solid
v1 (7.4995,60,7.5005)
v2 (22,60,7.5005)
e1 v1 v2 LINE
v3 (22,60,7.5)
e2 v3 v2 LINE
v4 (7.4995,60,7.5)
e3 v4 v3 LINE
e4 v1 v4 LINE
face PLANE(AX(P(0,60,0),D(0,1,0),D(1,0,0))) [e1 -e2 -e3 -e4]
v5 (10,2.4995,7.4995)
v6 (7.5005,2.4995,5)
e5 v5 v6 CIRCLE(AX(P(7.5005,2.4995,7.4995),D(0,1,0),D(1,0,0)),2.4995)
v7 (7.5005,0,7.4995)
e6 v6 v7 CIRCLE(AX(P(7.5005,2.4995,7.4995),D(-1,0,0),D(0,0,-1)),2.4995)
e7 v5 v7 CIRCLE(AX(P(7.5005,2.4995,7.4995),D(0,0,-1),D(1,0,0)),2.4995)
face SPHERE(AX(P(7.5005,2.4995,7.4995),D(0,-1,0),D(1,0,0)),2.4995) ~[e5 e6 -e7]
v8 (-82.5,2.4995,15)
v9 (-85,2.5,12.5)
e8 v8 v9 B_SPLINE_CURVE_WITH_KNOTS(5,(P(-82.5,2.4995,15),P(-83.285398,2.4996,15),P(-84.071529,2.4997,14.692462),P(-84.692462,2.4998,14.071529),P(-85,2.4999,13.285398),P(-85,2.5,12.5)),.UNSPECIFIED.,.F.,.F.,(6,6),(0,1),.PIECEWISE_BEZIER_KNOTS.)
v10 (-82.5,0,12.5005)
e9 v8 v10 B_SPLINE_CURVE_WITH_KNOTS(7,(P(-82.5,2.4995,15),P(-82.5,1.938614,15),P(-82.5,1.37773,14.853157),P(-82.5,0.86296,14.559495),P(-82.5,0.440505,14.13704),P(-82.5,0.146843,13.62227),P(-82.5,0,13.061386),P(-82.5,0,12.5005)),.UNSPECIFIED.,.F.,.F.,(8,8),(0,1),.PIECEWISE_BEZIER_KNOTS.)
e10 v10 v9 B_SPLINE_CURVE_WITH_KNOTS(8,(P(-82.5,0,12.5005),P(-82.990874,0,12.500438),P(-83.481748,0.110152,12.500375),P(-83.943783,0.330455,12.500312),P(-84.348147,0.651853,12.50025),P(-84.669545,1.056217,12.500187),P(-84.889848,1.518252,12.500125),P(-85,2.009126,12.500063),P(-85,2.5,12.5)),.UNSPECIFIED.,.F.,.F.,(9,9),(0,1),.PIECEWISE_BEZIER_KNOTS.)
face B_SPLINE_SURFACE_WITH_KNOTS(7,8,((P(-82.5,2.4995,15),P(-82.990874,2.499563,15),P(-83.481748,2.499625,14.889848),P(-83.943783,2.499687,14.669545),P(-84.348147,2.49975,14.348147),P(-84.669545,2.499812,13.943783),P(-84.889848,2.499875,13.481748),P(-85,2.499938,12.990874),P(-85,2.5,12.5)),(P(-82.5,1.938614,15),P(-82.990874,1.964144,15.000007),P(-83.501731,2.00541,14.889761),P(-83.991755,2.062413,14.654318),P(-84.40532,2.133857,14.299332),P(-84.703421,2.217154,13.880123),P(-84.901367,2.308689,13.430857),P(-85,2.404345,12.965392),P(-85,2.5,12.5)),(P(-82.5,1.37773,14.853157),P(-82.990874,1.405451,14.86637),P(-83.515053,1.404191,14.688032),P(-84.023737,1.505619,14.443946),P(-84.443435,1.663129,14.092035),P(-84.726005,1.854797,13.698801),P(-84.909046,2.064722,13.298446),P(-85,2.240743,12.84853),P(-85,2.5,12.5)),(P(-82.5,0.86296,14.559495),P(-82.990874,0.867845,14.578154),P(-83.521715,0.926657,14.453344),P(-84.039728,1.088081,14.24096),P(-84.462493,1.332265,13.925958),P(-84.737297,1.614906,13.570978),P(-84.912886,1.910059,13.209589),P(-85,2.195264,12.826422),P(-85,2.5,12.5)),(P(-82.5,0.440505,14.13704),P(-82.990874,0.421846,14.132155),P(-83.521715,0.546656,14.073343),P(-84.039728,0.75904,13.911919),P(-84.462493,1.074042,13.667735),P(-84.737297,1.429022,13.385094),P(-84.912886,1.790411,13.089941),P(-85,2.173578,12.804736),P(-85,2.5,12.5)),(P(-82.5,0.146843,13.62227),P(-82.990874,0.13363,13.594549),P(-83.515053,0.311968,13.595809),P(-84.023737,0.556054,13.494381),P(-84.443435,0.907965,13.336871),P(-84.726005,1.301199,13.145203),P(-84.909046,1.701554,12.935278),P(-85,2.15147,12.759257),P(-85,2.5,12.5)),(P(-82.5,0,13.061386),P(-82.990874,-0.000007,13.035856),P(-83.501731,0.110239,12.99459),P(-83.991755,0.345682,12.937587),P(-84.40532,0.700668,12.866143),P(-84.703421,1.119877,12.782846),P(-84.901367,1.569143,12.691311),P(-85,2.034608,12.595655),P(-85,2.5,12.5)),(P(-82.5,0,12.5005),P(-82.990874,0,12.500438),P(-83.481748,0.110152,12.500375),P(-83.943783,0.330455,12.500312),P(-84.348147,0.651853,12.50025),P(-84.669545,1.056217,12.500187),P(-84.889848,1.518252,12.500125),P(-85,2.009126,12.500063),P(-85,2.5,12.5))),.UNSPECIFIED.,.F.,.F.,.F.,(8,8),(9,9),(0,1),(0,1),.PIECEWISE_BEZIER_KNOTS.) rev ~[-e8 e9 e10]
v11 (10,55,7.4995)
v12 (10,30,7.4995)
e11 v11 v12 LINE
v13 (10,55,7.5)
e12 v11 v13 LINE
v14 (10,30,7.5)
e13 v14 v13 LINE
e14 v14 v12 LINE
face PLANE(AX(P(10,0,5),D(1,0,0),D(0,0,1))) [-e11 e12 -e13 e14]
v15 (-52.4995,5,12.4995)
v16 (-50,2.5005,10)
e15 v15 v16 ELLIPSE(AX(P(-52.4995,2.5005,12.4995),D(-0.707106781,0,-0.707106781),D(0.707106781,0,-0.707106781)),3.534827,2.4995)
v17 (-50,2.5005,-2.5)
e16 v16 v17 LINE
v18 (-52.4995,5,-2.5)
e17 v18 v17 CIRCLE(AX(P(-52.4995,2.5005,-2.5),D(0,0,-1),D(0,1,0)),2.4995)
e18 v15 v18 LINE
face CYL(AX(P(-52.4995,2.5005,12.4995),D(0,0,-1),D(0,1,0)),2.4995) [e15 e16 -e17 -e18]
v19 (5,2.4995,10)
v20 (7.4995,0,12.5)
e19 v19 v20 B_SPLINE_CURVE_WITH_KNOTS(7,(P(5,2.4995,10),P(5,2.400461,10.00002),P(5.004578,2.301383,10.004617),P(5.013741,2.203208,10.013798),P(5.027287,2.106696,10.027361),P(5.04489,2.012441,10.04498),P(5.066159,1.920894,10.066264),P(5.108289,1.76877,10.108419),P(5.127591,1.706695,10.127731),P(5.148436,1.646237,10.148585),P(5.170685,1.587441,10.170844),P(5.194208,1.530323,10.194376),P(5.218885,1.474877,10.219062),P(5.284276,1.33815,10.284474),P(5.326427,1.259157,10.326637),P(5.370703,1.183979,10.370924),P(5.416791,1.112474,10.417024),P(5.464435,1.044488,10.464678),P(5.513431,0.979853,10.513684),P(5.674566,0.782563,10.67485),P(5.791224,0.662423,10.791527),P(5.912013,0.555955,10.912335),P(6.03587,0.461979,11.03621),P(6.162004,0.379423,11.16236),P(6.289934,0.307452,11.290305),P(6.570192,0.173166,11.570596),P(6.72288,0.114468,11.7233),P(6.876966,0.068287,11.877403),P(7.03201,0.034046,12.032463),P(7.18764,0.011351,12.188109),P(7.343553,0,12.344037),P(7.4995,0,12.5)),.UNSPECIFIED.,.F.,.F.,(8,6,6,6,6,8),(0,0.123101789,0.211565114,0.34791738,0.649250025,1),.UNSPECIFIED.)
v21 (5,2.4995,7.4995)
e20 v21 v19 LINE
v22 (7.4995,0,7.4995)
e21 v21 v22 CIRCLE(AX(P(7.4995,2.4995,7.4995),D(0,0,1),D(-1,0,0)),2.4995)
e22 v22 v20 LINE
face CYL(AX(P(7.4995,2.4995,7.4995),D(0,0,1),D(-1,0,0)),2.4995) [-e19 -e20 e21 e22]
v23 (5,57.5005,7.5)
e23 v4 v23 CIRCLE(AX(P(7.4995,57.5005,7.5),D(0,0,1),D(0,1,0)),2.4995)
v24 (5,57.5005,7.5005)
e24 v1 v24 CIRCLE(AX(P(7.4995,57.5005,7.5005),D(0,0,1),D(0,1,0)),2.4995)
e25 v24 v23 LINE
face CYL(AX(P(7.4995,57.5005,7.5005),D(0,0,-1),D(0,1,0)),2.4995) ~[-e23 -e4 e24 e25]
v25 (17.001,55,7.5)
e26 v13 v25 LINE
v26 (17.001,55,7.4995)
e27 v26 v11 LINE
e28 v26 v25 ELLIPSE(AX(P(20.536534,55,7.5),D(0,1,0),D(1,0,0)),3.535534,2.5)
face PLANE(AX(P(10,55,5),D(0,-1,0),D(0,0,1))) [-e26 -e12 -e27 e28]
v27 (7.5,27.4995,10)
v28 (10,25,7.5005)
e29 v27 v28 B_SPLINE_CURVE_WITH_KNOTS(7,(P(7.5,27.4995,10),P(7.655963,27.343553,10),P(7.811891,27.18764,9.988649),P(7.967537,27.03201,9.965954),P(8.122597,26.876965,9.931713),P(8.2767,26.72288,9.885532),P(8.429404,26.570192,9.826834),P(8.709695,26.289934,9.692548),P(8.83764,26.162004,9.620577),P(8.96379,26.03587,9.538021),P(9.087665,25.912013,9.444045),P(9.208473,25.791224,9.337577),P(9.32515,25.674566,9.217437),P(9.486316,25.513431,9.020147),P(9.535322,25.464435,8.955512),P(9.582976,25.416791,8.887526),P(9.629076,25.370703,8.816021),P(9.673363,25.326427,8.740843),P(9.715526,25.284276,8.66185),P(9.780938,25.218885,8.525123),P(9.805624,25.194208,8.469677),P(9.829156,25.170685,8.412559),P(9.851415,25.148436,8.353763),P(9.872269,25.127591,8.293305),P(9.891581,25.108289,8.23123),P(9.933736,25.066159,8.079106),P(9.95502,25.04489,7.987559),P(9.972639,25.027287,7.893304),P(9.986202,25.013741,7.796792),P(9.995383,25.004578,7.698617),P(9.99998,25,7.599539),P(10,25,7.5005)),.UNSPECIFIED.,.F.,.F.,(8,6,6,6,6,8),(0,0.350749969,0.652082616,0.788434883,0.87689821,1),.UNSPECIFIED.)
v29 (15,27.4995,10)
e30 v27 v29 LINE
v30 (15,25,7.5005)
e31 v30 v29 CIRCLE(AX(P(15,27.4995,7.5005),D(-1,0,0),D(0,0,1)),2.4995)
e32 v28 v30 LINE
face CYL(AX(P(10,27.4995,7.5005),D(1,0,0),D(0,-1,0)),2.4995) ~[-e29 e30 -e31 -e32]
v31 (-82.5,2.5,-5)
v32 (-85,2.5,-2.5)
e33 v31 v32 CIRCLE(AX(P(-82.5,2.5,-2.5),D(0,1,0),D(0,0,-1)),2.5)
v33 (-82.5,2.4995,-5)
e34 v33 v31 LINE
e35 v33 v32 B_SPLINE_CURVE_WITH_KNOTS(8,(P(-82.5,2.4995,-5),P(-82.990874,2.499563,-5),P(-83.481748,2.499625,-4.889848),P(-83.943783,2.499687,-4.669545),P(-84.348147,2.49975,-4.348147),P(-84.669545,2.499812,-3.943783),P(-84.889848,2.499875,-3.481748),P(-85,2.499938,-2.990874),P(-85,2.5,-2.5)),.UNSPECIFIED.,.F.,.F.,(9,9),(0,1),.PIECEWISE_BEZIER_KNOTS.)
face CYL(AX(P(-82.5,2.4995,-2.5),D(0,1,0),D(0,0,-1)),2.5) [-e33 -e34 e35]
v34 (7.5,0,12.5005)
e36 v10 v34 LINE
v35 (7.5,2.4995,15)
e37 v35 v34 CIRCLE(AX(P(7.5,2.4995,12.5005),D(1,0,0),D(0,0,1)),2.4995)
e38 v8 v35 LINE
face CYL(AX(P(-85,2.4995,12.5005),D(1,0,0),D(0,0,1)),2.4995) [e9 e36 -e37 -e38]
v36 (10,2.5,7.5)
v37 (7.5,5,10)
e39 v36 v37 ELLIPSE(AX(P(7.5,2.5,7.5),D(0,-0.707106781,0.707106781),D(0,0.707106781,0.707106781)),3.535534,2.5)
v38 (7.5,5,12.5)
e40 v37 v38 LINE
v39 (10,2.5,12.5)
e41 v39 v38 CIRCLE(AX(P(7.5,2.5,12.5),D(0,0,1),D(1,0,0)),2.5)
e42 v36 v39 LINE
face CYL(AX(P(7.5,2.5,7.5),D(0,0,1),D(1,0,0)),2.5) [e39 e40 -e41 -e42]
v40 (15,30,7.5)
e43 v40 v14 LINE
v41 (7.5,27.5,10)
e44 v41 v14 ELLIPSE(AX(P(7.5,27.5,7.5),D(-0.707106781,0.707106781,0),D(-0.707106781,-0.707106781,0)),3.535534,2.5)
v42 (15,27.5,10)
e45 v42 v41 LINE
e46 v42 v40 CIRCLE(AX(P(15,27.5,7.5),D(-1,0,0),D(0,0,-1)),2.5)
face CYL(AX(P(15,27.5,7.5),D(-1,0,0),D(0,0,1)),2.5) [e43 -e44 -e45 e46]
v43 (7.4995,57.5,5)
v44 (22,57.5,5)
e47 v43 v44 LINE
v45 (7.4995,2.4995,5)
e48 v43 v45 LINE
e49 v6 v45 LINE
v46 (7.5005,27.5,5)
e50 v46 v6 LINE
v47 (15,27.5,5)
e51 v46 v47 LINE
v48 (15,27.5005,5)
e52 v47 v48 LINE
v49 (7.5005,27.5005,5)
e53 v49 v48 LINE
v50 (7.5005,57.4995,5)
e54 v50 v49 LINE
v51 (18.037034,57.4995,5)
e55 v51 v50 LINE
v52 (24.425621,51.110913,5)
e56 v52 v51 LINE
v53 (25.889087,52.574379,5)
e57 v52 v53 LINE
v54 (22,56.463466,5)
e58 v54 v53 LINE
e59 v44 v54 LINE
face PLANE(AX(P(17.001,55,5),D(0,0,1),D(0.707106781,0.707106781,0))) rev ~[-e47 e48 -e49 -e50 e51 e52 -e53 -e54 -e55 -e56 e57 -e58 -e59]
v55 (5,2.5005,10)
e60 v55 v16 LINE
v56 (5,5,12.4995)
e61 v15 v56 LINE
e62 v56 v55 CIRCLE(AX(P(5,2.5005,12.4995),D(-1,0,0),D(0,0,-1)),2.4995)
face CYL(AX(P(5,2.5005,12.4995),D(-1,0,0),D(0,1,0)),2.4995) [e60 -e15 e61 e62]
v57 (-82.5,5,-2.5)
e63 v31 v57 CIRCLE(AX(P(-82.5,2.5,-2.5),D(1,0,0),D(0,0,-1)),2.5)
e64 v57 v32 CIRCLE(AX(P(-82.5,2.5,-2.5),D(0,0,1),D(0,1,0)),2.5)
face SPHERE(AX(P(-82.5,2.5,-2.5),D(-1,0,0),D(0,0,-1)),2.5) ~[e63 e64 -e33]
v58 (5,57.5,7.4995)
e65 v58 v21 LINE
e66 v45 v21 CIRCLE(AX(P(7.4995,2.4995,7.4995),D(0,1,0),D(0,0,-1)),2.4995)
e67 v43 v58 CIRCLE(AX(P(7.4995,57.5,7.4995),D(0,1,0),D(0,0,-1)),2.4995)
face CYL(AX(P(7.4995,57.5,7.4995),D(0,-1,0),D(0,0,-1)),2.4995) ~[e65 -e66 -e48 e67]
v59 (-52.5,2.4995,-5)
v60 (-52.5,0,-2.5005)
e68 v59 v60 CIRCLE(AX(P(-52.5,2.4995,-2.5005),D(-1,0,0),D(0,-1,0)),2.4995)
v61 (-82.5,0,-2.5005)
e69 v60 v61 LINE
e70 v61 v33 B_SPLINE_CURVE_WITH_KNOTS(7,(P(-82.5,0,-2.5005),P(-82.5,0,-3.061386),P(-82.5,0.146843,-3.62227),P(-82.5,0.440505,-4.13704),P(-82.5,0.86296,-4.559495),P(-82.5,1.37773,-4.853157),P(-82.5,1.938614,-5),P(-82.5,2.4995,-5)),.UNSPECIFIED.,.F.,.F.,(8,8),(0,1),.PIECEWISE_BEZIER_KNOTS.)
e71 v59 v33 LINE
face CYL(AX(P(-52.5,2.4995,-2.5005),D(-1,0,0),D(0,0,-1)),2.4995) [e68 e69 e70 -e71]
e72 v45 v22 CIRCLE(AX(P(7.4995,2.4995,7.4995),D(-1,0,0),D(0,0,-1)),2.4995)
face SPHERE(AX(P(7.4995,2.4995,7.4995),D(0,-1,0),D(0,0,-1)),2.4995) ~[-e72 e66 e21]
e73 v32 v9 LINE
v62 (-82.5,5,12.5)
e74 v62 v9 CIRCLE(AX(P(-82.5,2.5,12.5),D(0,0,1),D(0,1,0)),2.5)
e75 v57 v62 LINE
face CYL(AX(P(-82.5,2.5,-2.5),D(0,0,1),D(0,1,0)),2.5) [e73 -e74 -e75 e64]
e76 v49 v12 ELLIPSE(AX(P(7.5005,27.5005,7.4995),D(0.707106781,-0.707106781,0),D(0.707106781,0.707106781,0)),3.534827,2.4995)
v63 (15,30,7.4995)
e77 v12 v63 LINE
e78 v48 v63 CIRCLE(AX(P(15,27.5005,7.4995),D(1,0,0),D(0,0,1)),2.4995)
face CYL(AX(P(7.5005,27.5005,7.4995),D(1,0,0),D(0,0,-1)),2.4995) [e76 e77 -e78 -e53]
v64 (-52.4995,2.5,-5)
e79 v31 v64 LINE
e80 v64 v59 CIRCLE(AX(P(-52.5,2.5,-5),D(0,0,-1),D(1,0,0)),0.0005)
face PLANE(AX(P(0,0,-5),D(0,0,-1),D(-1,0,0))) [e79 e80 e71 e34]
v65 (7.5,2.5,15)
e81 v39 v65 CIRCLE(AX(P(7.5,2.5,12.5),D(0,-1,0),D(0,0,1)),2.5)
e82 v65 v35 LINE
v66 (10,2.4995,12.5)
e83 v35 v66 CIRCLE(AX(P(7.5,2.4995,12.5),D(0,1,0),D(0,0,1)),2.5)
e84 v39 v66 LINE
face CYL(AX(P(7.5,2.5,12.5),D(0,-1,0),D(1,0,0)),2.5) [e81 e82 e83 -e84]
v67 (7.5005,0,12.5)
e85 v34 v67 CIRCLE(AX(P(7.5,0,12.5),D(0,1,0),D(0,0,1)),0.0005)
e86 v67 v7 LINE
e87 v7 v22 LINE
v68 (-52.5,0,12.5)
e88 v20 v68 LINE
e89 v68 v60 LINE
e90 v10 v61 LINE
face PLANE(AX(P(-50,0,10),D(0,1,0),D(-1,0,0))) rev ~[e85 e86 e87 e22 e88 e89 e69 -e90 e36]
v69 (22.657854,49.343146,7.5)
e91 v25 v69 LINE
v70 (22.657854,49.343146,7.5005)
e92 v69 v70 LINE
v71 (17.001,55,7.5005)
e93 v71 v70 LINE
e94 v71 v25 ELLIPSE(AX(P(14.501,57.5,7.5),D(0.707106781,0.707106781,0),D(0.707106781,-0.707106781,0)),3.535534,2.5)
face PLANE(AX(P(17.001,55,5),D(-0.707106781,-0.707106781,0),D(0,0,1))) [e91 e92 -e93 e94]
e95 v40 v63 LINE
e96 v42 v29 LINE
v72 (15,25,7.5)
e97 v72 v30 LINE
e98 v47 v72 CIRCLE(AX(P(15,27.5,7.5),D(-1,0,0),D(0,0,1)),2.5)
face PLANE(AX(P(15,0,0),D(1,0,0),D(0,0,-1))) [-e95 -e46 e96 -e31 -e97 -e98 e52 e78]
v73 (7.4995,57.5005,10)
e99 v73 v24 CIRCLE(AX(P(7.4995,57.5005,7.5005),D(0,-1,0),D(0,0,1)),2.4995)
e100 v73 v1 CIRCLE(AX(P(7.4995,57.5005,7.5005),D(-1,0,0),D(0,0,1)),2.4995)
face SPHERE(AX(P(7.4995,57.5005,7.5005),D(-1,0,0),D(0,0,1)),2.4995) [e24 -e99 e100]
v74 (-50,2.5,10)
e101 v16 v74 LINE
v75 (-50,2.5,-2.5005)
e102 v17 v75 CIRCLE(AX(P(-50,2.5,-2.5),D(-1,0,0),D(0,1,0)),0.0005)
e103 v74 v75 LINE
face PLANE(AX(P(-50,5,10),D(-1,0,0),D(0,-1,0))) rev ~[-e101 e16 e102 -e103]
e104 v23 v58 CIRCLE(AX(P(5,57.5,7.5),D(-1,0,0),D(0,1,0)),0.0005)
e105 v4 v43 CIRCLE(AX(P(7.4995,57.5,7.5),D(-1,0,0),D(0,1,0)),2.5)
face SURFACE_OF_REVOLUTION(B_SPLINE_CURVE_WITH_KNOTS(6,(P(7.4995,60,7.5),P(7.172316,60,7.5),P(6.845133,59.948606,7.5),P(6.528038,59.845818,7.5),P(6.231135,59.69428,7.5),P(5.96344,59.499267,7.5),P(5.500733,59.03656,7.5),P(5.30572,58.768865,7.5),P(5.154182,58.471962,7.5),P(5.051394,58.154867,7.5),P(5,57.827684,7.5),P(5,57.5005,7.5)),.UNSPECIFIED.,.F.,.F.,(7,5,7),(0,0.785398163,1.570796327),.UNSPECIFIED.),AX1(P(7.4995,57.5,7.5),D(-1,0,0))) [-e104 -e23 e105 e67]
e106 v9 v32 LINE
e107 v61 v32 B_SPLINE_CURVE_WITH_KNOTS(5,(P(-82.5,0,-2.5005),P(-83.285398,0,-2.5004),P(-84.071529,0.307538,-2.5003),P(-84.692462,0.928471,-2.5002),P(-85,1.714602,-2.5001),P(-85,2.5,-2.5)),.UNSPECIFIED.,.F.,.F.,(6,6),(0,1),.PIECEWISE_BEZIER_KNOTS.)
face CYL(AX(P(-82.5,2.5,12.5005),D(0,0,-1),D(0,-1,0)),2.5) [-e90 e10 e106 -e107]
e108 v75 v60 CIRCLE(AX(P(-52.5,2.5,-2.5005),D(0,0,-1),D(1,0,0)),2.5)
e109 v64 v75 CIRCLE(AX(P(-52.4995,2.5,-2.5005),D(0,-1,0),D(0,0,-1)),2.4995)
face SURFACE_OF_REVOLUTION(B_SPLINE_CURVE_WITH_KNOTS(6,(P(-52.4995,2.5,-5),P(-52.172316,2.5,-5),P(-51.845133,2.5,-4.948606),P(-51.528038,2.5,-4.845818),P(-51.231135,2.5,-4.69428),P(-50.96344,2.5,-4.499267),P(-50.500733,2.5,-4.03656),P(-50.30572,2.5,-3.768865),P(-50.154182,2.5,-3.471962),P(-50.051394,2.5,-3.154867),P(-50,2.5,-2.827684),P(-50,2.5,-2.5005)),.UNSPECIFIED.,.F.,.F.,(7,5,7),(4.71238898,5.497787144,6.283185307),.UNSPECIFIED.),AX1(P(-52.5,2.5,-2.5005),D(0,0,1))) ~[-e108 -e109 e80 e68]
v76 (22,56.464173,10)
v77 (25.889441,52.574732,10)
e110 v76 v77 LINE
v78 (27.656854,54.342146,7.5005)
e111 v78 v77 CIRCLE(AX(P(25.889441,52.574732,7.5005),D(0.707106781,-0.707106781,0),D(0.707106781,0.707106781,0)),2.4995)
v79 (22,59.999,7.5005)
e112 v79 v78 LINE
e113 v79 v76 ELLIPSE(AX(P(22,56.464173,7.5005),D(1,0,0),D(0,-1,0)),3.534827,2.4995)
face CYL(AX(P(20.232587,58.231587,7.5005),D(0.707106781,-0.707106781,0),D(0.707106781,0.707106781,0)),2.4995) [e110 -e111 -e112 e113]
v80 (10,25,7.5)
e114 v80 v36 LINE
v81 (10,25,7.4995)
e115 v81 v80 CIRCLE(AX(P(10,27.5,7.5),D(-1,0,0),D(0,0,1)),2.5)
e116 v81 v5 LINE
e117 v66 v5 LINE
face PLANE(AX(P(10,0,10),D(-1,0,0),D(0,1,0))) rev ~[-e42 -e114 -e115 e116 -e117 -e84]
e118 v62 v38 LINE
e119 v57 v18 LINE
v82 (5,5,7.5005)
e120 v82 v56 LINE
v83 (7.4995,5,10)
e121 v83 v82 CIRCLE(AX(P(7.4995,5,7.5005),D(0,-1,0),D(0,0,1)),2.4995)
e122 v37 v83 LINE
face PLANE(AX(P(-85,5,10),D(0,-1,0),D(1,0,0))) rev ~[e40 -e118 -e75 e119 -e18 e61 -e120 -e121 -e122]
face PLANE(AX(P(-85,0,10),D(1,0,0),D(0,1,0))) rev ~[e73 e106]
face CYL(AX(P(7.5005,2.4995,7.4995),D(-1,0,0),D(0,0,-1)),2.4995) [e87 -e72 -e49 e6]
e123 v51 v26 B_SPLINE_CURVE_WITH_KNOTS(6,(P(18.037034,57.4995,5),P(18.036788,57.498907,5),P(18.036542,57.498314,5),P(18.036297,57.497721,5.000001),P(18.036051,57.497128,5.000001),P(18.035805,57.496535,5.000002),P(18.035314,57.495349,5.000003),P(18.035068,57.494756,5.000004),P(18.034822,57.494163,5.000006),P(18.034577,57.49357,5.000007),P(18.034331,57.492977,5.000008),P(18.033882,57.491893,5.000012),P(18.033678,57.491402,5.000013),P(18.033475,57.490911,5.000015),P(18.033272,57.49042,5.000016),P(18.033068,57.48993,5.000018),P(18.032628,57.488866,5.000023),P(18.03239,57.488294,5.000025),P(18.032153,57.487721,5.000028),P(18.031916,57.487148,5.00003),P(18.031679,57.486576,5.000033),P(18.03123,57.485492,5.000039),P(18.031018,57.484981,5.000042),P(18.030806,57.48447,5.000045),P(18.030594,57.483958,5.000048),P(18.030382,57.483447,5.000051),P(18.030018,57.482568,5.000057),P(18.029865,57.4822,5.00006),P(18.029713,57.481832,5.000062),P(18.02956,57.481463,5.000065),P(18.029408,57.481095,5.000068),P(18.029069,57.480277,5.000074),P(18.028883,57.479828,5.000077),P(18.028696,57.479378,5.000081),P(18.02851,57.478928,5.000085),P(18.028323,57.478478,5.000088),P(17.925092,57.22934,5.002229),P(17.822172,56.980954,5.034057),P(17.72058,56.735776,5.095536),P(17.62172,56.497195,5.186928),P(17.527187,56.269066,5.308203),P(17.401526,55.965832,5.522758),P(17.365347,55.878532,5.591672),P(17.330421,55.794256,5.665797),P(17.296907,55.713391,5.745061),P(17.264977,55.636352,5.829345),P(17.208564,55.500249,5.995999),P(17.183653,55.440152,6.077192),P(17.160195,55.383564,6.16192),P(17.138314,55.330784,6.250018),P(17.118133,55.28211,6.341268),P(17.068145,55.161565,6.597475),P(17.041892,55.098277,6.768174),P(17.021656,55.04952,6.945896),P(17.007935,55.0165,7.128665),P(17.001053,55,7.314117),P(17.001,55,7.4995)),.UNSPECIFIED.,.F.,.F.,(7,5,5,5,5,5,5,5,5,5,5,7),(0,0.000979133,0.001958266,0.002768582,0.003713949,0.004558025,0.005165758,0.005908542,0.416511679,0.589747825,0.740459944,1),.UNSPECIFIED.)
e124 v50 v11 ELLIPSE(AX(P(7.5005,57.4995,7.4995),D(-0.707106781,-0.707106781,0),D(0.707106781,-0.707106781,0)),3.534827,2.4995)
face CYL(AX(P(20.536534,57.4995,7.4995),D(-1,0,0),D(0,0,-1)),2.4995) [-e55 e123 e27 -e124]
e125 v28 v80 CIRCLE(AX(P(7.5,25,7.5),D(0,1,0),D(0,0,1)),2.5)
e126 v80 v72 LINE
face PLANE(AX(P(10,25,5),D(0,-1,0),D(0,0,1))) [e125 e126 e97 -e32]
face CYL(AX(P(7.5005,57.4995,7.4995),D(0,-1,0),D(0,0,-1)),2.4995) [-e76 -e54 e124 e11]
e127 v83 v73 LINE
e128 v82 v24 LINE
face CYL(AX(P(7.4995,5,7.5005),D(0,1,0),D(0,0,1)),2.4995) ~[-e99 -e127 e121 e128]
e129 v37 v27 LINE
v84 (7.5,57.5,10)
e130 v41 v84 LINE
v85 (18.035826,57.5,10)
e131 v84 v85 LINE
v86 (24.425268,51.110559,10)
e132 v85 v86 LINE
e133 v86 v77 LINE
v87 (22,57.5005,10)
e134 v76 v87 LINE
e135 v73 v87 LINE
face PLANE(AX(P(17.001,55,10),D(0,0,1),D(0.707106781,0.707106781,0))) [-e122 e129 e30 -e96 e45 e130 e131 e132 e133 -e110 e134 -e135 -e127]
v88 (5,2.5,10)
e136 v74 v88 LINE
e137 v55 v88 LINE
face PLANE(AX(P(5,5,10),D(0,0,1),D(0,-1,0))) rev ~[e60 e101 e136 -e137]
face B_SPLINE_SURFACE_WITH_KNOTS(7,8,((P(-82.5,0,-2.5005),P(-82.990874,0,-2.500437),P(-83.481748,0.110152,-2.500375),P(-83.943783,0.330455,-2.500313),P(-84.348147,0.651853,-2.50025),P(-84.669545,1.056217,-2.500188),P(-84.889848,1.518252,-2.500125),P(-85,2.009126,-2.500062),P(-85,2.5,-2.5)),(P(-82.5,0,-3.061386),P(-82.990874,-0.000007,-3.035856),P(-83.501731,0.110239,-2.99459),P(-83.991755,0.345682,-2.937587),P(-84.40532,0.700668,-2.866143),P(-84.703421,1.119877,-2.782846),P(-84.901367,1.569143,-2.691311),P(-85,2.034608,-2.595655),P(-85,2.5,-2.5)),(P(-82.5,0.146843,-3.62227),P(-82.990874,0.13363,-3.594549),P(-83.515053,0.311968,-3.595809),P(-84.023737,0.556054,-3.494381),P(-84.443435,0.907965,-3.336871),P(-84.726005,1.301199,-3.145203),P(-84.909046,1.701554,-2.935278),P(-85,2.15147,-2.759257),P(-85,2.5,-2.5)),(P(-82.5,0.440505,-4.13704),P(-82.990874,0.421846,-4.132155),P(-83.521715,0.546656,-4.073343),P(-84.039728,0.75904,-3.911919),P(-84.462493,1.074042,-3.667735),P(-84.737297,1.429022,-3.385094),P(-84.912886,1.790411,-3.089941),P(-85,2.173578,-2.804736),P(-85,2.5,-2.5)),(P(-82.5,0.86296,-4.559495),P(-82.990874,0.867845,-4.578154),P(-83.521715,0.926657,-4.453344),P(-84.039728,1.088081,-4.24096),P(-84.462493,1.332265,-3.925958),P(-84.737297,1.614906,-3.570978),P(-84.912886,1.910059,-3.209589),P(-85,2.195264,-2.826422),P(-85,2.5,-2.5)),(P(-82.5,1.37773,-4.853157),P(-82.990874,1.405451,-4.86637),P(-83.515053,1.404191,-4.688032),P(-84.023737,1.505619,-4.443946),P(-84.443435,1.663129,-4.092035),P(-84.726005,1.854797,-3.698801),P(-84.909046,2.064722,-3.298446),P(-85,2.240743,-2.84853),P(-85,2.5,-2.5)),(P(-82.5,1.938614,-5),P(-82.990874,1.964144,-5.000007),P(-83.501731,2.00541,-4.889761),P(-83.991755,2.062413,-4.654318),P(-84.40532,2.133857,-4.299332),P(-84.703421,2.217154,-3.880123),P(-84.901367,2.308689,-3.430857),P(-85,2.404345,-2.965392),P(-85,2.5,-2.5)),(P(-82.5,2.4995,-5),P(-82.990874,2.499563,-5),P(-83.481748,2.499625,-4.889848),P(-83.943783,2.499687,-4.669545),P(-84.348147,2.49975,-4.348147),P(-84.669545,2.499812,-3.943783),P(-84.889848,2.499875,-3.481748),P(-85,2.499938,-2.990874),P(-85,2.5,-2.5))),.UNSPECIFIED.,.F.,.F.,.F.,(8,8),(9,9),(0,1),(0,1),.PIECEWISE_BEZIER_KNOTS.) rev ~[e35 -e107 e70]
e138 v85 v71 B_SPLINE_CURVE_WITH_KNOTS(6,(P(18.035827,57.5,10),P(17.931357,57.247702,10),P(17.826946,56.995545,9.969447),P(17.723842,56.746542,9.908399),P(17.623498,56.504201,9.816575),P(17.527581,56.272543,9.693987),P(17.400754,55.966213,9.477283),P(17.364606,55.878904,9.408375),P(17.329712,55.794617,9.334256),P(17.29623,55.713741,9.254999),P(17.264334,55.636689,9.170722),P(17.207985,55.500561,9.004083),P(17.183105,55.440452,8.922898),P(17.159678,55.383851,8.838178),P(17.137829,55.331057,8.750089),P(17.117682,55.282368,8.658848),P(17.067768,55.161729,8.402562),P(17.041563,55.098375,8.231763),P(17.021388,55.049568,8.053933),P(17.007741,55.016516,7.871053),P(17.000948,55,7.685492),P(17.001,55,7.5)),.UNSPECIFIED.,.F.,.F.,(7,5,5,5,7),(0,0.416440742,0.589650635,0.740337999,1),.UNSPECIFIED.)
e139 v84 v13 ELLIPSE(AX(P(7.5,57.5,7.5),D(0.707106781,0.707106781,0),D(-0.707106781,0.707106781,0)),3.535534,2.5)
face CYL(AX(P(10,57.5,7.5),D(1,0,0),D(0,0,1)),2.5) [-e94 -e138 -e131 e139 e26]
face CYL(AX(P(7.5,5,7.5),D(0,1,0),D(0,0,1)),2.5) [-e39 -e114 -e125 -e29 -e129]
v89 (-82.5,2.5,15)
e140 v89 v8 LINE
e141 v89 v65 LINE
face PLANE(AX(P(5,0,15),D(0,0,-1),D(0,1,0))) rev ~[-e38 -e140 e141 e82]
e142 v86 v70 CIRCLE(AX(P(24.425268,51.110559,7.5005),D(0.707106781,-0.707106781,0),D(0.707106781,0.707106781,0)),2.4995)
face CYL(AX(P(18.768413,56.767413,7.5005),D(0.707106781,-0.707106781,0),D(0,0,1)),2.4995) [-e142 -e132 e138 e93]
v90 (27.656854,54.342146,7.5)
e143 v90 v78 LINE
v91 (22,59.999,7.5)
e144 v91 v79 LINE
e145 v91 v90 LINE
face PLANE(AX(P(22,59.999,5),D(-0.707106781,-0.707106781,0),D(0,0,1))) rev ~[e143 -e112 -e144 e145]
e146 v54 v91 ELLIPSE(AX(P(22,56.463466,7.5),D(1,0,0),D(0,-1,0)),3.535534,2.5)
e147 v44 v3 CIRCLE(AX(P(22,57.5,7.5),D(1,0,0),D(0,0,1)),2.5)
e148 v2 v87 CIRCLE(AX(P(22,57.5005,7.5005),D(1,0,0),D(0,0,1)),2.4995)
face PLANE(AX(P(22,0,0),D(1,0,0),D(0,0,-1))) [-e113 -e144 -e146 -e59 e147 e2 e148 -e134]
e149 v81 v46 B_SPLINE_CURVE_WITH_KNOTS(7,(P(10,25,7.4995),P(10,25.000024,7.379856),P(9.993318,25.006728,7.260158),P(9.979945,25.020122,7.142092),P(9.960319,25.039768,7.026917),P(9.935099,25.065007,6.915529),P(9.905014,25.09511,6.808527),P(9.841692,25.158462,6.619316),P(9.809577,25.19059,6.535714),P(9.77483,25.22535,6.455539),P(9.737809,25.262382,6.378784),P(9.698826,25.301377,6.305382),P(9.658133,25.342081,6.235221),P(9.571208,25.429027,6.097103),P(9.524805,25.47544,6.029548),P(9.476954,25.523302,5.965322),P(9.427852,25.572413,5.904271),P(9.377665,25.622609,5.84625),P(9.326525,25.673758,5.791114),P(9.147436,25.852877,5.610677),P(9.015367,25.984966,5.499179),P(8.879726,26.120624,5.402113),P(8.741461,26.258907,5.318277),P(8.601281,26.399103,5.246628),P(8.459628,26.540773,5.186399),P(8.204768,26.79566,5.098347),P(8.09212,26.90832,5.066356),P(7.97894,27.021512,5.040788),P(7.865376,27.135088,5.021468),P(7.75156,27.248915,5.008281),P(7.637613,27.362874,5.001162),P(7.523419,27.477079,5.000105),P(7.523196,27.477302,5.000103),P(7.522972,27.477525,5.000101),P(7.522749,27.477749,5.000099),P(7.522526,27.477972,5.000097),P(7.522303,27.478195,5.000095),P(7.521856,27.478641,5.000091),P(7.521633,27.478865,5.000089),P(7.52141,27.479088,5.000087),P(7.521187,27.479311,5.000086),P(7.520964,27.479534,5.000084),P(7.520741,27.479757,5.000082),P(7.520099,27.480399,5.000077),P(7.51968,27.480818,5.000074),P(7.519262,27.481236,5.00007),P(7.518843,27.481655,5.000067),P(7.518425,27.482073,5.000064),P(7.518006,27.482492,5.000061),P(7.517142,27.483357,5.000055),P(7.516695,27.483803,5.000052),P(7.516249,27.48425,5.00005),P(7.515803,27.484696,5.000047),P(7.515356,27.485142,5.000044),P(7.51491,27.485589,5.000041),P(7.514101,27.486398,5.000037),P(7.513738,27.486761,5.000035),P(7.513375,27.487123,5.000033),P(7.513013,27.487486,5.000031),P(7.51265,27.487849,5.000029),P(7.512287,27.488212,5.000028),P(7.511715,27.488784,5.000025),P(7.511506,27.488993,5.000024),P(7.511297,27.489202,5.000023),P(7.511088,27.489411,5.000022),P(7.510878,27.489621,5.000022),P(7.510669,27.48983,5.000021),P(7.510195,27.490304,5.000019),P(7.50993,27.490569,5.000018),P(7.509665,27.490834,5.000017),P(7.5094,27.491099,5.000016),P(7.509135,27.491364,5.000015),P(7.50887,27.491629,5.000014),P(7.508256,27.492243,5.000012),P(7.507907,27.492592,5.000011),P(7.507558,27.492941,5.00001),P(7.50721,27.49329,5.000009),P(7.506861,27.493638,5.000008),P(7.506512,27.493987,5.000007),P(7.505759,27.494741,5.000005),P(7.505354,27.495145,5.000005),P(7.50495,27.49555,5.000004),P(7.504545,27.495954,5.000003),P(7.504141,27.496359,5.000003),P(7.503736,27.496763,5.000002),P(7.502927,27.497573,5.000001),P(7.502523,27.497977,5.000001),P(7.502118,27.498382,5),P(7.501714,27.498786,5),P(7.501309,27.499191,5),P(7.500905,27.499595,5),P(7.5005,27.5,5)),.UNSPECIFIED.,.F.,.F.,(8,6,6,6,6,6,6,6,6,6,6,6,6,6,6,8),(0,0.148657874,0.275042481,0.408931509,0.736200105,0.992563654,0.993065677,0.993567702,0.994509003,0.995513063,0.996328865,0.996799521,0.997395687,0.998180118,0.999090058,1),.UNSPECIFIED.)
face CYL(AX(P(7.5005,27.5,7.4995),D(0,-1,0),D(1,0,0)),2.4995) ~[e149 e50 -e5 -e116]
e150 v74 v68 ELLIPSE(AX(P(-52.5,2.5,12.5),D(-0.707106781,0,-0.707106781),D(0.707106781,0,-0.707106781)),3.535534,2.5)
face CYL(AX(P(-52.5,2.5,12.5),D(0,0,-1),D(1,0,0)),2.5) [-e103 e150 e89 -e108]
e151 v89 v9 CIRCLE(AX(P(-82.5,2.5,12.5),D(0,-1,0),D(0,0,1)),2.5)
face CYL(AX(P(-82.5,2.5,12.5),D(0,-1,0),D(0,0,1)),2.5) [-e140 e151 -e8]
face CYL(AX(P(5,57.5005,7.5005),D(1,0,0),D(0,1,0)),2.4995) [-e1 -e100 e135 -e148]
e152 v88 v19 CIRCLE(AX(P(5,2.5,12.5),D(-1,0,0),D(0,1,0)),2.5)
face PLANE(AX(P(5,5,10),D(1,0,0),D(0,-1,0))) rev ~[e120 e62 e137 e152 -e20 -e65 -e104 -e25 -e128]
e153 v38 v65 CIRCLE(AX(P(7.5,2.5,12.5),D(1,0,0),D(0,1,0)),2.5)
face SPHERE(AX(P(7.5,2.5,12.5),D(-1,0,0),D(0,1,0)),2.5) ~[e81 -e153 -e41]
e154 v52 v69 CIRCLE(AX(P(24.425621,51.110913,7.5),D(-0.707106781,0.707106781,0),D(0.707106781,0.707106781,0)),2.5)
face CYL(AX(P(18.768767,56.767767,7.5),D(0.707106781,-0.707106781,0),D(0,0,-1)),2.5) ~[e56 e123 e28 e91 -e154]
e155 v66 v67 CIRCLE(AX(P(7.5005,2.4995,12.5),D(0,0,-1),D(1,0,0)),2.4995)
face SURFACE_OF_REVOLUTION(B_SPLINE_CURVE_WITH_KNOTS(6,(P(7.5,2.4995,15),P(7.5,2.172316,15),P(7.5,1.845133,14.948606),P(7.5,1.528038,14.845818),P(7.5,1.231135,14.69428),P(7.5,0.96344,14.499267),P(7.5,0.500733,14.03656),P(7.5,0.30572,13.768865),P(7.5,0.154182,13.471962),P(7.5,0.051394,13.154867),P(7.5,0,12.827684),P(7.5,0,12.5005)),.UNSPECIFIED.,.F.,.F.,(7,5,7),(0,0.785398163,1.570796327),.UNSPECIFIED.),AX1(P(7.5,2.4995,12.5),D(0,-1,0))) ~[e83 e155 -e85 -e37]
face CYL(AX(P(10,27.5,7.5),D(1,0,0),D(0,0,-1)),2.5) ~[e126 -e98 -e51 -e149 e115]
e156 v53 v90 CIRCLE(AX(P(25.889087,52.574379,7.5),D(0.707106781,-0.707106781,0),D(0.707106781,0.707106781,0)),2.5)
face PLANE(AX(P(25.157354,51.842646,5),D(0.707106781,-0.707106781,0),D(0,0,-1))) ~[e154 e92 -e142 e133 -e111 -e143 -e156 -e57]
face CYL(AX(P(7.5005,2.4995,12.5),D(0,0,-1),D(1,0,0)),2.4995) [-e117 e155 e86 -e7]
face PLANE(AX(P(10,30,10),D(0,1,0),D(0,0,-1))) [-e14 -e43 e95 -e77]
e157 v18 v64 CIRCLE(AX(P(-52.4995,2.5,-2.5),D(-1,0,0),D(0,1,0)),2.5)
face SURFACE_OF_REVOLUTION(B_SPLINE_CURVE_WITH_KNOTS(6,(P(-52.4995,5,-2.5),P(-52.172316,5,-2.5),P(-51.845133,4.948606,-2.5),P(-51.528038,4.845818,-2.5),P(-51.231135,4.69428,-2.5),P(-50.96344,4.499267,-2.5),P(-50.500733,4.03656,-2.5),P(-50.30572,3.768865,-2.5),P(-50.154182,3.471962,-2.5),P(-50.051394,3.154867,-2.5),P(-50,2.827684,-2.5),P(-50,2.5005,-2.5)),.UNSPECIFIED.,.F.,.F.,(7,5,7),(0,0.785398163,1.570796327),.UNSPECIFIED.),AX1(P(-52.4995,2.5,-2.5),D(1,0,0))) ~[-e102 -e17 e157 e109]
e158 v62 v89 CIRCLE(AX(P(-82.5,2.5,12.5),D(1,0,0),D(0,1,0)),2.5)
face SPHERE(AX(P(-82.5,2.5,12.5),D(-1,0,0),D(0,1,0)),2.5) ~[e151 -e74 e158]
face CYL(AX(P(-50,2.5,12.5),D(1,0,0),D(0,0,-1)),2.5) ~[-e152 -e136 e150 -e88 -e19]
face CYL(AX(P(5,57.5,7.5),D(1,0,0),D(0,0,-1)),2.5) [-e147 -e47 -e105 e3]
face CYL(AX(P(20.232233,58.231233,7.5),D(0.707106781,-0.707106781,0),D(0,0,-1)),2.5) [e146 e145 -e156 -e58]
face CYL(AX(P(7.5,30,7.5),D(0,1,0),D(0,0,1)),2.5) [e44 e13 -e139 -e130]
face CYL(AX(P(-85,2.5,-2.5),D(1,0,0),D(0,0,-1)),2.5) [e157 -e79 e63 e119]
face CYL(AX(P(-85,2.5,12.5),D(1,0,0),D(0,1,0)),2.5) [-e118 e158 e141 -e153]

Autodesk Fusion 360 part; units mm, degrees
sketch "スケッチ3" plane through (0, 0, 0) normal (0, 1, 0) x (1, 0, 0)
  line L0 (5, -5) -> (10, -5)
  line L1 (10, -5) -> (10, -10)
  line L2 (10, -10) -> (5, -10)
  line L3 (5, -10) -> (5, -5)
  line L4 (-10, 0) -> (-5, 0)
  line L5 (-5, 0) -> (-5, 60)
  line L6 (-5, 60) -> (-10, 60)
  line L7 (-10, 60) -> (-10, 0)
  line L8 (10, 10) -> (10, 5)
  line L9 (10, 5) -> (17, 5)
  line L10 (17, 10) -> (10, 10)
  line L11 (-5, 55) -> (-10, 55)
  line L12 (-10, 55) -> (-10, 0)
  line L13 (-10, 0) -> (-5, 0)
  line L14 (-5, 0) -> (-5, 55)
  line L15 (17, 5) -> (17, 10)
  line L16 (22, 60) -> (5, 60)
  line L17 (5, 60) -> (5, 0)
  line L18 (5, 0) -> (10, 0)
  line L19 (10, 0) -> (10, 25)
  line L20 (10, 25) -> (15, 25)
  line L21 (15, 25) -> (15, 30)
  line L22 (15, 30) -> (10, 30)
  line L23 (10, 30) -> (10, 55)
  line L24 (10, 55) -> (17, 55)
  line L25 (17, 55) -> (22.6569, 49.3431)
  line L26 (22.6569, 49.3431) -> (27.6569, 54.3431)
  line L27 (27.6569, 54.3431) -> (22, 60)
  line L28 (5, 0) -> (15, 0)
  line L29 (15, 0) -> (15, 5)
  line L30 (15, 5) -> (10, 5)
  line L31 (10, 5) -> (10, 60)
  line L32 (10, 60) -> (5, 60)
  line L33 (5, 60) -> (5, 0)
  line L34 (-5, 5) -> (-5, 0)
  line L35 (-5, 0) -> (85, 0)
  line L36 (85, 0) -> (85, 5)
  line L37 (85, 5) -> (-5, 5)
  dimension "d4" = 5
  dimension "d5" = 5
extrude "押し出し2" add sketch "スケッチ3" along normal blind 60 contours L0 L1 L2 L3
sketch "スケッチ4" plane through (10, 0, 0) normal (1, 0, 0) x (0, 0, -1)
  line L0 (-10, 0) -> (-5, 0)
  line L1 (-5, 0) -> (-5, 60)
  line L2 (-5, 60) -> (-10, 60)
  line L3 (-10, 60) -> (-10, 0)
  line L4 (-10, 60) -> (-5, 60)
  line L5 (-5, 60) -> (-5, 55)
  line L6 (-5, 55) -> (-10, 55)
  line L7 (-10, 55) -> (-10, 60)
  dimension "d10" = 5
extrude "押し出し4" add sketch "スケッチ4" along normal blind 12 contours L1 L2 L3 L4 L5 L6 L7
chamfer "面取り1" distance 5 angle 45 1 edges at (22, 55, 7.5)
extrude "押し出し9" add 1 faces at (20.3337, 58.3327, 6.6667) along direction (0.707107, -0.707107, 0) blind 8
sketch "スケッチ5" plane through (0, 55, 0) normal (0, -1, 0) x (1, 0, 0)
  line L0 (10, 10) -> (10, 5)
  line L1 (10, 5) -> (17, 5)
  line L2 (17, 10) -> (10, 10)
  line L3 (17, 10) -> (12, 10)
  line L4 (12, 10) -> (12, 5)
  line L5 (12, 5) -> (17, 5)
  line L6 (17, 5) -> (17, 10)
  line L7 (17, 5) -> (17, 10)
  dimension "d13" = 5
sketch "スケッチ7" plane through (10, 0, 0) normal (1, 0, 0) x (0, 0, -1)
  line L0 (-5, 55) -> (-10, 55)
  line L1 (-10, 55) -> (-10, 0)
  line L2 (-10, 0) -> (-5, 0)
  line L3 (-5, 0) -> (-5, 55)
  line L4 (-10, 30) -> (-5, 30)
  line L5 (-5, 30) -> (-5, 25)
  line L6 (-5, 25) -> (-10, 25)
  line L7 (-10, 25) -> (-10, 30)
  dimension "d17" = 25
  dimension "d18" = 5
extrude "押し出し6" add sketch "スケッチ7" along normal blind 5 contours L1 L3 L4 L5 L6 L7
sketch "スケッチ11" plane through (0, 0, 10) normal (0, 0, 1) x (1, 0, 0)
  line L0 (22, 60) -> (5, 60)
  line L1 (5, 60) -> (5, 0)
  line L2 (5, 0) -> (10, 0)
  line L3 (10, 0) -> (10, 25)
  line L4 (10, 25) -> (15, 25)
  line L5 (15, 25) -> (15, 30)
  line L6 (15, 30) -> (10, 30)
  line L7 (10, 30) -> (10, 55)
  line L8 (10, 55) -> (17, 55)
  line L9 (17, 55) -> (22.6569, 49.3431)
  line L10 (22.6569, 49.3431) -> (27.6569, 54.3431)
  line L11 (27.6569, 54.3431) -> (22, 60)
  line L12 (5, 0) -> (10, 0)
  line L13 (10, 0) -> (10, 5)
  line L14 (10, 5) -> (5, 5)
  line L15 (5, 5) -> (5, 0)
  dimension "d41" = 5
extrude "押し出し11" add sketch "スケッチ11" along normal blind 5 contours L1 L2 L3 L12 L13 L14 L15
sketch "スケッチ12" plane through (5, 0, 0) normal (-1, 0, 0) x (0, 0, 1)
  line L0 (5, 0) -> (15, 0)
  line L1 (15, 0) -> (15, 5)
  line L2 (15, 5) -> (10, 5)
  line L3 (10, 5) -> (10, 60)
  line L4 (10, 60) -> (5, 60)
  line L5 (5, 60) -> (5, 0)
  line L6 (15, 5) -> (10, 5)
  line L7 (10, 5) -> (10, 0)
  line L8 (10, 0) -> (15, 0)
  line L9 (15, 0) -> (15, 5)
  dimension "d44" = 5
extrude "押し出し12" add sketch "スケッチ12" along normal blind 90 contours L0 L1 L2 L6 L7 L8 L9
sketch "スケッチ13" plane through (0, 0, 10) normal (0, 0, -1) x (-1, 0, 0)
  line L0 (-5, 5) -> (-5, 0)
  line L1 (-5, 0) -> (85, 0)
  line L2 (85, 0) -> (85, 5)
  line L3 (85, 5) -> (-5, 5)
  line L4 (85, 5) -> (50, 5)
  line L5 (50, 5) -> (50, 0)
  line L6 (50, 0) -> (85, 0)
  line L7 (85, 0) -> (85, 5)
  dimension "d47" = 35
extrude "押し出し13" add sketch "スケッチ13" along normal blind 15 contours L1 L2 L3 L4 L5 L6 L7
fillet "フィレット9" radius 2.5 32 edges at (-37.5, 5, 15) (19.8284, 52.1716, 5) (24.8284, 57.1716, 5) (24.8284, 57.1716, 10) (19.8284, 52.1716, 10) (13.5, 60, 5) (13.5, 60, 10) (13.5, 55, 10) (10, 42.5, 10) (5, 32.5, 10) (5, 30, 5) (13.5, 55, 5) (10, 42.5, 5) (12.5, 30, 5) (12.5, 25, 5) (12.5, 25, 10) (12.5, 30, 10) (10, 15, 10) (10, 12.5, 5) (10, 5, 12.5) (10, 0, 10) (-37.5, 0, 15) (-22.5, 5, 10) (-22.5, 0, 10) (7.5, 0, 5) (5, 0, 7.5) (-50, 0, 2.5) (-67.5, 5, -5) (-67.5, 0, -5) (-85, 5, 5) (-85, 0, 5) (-50, 5, 2.5)
